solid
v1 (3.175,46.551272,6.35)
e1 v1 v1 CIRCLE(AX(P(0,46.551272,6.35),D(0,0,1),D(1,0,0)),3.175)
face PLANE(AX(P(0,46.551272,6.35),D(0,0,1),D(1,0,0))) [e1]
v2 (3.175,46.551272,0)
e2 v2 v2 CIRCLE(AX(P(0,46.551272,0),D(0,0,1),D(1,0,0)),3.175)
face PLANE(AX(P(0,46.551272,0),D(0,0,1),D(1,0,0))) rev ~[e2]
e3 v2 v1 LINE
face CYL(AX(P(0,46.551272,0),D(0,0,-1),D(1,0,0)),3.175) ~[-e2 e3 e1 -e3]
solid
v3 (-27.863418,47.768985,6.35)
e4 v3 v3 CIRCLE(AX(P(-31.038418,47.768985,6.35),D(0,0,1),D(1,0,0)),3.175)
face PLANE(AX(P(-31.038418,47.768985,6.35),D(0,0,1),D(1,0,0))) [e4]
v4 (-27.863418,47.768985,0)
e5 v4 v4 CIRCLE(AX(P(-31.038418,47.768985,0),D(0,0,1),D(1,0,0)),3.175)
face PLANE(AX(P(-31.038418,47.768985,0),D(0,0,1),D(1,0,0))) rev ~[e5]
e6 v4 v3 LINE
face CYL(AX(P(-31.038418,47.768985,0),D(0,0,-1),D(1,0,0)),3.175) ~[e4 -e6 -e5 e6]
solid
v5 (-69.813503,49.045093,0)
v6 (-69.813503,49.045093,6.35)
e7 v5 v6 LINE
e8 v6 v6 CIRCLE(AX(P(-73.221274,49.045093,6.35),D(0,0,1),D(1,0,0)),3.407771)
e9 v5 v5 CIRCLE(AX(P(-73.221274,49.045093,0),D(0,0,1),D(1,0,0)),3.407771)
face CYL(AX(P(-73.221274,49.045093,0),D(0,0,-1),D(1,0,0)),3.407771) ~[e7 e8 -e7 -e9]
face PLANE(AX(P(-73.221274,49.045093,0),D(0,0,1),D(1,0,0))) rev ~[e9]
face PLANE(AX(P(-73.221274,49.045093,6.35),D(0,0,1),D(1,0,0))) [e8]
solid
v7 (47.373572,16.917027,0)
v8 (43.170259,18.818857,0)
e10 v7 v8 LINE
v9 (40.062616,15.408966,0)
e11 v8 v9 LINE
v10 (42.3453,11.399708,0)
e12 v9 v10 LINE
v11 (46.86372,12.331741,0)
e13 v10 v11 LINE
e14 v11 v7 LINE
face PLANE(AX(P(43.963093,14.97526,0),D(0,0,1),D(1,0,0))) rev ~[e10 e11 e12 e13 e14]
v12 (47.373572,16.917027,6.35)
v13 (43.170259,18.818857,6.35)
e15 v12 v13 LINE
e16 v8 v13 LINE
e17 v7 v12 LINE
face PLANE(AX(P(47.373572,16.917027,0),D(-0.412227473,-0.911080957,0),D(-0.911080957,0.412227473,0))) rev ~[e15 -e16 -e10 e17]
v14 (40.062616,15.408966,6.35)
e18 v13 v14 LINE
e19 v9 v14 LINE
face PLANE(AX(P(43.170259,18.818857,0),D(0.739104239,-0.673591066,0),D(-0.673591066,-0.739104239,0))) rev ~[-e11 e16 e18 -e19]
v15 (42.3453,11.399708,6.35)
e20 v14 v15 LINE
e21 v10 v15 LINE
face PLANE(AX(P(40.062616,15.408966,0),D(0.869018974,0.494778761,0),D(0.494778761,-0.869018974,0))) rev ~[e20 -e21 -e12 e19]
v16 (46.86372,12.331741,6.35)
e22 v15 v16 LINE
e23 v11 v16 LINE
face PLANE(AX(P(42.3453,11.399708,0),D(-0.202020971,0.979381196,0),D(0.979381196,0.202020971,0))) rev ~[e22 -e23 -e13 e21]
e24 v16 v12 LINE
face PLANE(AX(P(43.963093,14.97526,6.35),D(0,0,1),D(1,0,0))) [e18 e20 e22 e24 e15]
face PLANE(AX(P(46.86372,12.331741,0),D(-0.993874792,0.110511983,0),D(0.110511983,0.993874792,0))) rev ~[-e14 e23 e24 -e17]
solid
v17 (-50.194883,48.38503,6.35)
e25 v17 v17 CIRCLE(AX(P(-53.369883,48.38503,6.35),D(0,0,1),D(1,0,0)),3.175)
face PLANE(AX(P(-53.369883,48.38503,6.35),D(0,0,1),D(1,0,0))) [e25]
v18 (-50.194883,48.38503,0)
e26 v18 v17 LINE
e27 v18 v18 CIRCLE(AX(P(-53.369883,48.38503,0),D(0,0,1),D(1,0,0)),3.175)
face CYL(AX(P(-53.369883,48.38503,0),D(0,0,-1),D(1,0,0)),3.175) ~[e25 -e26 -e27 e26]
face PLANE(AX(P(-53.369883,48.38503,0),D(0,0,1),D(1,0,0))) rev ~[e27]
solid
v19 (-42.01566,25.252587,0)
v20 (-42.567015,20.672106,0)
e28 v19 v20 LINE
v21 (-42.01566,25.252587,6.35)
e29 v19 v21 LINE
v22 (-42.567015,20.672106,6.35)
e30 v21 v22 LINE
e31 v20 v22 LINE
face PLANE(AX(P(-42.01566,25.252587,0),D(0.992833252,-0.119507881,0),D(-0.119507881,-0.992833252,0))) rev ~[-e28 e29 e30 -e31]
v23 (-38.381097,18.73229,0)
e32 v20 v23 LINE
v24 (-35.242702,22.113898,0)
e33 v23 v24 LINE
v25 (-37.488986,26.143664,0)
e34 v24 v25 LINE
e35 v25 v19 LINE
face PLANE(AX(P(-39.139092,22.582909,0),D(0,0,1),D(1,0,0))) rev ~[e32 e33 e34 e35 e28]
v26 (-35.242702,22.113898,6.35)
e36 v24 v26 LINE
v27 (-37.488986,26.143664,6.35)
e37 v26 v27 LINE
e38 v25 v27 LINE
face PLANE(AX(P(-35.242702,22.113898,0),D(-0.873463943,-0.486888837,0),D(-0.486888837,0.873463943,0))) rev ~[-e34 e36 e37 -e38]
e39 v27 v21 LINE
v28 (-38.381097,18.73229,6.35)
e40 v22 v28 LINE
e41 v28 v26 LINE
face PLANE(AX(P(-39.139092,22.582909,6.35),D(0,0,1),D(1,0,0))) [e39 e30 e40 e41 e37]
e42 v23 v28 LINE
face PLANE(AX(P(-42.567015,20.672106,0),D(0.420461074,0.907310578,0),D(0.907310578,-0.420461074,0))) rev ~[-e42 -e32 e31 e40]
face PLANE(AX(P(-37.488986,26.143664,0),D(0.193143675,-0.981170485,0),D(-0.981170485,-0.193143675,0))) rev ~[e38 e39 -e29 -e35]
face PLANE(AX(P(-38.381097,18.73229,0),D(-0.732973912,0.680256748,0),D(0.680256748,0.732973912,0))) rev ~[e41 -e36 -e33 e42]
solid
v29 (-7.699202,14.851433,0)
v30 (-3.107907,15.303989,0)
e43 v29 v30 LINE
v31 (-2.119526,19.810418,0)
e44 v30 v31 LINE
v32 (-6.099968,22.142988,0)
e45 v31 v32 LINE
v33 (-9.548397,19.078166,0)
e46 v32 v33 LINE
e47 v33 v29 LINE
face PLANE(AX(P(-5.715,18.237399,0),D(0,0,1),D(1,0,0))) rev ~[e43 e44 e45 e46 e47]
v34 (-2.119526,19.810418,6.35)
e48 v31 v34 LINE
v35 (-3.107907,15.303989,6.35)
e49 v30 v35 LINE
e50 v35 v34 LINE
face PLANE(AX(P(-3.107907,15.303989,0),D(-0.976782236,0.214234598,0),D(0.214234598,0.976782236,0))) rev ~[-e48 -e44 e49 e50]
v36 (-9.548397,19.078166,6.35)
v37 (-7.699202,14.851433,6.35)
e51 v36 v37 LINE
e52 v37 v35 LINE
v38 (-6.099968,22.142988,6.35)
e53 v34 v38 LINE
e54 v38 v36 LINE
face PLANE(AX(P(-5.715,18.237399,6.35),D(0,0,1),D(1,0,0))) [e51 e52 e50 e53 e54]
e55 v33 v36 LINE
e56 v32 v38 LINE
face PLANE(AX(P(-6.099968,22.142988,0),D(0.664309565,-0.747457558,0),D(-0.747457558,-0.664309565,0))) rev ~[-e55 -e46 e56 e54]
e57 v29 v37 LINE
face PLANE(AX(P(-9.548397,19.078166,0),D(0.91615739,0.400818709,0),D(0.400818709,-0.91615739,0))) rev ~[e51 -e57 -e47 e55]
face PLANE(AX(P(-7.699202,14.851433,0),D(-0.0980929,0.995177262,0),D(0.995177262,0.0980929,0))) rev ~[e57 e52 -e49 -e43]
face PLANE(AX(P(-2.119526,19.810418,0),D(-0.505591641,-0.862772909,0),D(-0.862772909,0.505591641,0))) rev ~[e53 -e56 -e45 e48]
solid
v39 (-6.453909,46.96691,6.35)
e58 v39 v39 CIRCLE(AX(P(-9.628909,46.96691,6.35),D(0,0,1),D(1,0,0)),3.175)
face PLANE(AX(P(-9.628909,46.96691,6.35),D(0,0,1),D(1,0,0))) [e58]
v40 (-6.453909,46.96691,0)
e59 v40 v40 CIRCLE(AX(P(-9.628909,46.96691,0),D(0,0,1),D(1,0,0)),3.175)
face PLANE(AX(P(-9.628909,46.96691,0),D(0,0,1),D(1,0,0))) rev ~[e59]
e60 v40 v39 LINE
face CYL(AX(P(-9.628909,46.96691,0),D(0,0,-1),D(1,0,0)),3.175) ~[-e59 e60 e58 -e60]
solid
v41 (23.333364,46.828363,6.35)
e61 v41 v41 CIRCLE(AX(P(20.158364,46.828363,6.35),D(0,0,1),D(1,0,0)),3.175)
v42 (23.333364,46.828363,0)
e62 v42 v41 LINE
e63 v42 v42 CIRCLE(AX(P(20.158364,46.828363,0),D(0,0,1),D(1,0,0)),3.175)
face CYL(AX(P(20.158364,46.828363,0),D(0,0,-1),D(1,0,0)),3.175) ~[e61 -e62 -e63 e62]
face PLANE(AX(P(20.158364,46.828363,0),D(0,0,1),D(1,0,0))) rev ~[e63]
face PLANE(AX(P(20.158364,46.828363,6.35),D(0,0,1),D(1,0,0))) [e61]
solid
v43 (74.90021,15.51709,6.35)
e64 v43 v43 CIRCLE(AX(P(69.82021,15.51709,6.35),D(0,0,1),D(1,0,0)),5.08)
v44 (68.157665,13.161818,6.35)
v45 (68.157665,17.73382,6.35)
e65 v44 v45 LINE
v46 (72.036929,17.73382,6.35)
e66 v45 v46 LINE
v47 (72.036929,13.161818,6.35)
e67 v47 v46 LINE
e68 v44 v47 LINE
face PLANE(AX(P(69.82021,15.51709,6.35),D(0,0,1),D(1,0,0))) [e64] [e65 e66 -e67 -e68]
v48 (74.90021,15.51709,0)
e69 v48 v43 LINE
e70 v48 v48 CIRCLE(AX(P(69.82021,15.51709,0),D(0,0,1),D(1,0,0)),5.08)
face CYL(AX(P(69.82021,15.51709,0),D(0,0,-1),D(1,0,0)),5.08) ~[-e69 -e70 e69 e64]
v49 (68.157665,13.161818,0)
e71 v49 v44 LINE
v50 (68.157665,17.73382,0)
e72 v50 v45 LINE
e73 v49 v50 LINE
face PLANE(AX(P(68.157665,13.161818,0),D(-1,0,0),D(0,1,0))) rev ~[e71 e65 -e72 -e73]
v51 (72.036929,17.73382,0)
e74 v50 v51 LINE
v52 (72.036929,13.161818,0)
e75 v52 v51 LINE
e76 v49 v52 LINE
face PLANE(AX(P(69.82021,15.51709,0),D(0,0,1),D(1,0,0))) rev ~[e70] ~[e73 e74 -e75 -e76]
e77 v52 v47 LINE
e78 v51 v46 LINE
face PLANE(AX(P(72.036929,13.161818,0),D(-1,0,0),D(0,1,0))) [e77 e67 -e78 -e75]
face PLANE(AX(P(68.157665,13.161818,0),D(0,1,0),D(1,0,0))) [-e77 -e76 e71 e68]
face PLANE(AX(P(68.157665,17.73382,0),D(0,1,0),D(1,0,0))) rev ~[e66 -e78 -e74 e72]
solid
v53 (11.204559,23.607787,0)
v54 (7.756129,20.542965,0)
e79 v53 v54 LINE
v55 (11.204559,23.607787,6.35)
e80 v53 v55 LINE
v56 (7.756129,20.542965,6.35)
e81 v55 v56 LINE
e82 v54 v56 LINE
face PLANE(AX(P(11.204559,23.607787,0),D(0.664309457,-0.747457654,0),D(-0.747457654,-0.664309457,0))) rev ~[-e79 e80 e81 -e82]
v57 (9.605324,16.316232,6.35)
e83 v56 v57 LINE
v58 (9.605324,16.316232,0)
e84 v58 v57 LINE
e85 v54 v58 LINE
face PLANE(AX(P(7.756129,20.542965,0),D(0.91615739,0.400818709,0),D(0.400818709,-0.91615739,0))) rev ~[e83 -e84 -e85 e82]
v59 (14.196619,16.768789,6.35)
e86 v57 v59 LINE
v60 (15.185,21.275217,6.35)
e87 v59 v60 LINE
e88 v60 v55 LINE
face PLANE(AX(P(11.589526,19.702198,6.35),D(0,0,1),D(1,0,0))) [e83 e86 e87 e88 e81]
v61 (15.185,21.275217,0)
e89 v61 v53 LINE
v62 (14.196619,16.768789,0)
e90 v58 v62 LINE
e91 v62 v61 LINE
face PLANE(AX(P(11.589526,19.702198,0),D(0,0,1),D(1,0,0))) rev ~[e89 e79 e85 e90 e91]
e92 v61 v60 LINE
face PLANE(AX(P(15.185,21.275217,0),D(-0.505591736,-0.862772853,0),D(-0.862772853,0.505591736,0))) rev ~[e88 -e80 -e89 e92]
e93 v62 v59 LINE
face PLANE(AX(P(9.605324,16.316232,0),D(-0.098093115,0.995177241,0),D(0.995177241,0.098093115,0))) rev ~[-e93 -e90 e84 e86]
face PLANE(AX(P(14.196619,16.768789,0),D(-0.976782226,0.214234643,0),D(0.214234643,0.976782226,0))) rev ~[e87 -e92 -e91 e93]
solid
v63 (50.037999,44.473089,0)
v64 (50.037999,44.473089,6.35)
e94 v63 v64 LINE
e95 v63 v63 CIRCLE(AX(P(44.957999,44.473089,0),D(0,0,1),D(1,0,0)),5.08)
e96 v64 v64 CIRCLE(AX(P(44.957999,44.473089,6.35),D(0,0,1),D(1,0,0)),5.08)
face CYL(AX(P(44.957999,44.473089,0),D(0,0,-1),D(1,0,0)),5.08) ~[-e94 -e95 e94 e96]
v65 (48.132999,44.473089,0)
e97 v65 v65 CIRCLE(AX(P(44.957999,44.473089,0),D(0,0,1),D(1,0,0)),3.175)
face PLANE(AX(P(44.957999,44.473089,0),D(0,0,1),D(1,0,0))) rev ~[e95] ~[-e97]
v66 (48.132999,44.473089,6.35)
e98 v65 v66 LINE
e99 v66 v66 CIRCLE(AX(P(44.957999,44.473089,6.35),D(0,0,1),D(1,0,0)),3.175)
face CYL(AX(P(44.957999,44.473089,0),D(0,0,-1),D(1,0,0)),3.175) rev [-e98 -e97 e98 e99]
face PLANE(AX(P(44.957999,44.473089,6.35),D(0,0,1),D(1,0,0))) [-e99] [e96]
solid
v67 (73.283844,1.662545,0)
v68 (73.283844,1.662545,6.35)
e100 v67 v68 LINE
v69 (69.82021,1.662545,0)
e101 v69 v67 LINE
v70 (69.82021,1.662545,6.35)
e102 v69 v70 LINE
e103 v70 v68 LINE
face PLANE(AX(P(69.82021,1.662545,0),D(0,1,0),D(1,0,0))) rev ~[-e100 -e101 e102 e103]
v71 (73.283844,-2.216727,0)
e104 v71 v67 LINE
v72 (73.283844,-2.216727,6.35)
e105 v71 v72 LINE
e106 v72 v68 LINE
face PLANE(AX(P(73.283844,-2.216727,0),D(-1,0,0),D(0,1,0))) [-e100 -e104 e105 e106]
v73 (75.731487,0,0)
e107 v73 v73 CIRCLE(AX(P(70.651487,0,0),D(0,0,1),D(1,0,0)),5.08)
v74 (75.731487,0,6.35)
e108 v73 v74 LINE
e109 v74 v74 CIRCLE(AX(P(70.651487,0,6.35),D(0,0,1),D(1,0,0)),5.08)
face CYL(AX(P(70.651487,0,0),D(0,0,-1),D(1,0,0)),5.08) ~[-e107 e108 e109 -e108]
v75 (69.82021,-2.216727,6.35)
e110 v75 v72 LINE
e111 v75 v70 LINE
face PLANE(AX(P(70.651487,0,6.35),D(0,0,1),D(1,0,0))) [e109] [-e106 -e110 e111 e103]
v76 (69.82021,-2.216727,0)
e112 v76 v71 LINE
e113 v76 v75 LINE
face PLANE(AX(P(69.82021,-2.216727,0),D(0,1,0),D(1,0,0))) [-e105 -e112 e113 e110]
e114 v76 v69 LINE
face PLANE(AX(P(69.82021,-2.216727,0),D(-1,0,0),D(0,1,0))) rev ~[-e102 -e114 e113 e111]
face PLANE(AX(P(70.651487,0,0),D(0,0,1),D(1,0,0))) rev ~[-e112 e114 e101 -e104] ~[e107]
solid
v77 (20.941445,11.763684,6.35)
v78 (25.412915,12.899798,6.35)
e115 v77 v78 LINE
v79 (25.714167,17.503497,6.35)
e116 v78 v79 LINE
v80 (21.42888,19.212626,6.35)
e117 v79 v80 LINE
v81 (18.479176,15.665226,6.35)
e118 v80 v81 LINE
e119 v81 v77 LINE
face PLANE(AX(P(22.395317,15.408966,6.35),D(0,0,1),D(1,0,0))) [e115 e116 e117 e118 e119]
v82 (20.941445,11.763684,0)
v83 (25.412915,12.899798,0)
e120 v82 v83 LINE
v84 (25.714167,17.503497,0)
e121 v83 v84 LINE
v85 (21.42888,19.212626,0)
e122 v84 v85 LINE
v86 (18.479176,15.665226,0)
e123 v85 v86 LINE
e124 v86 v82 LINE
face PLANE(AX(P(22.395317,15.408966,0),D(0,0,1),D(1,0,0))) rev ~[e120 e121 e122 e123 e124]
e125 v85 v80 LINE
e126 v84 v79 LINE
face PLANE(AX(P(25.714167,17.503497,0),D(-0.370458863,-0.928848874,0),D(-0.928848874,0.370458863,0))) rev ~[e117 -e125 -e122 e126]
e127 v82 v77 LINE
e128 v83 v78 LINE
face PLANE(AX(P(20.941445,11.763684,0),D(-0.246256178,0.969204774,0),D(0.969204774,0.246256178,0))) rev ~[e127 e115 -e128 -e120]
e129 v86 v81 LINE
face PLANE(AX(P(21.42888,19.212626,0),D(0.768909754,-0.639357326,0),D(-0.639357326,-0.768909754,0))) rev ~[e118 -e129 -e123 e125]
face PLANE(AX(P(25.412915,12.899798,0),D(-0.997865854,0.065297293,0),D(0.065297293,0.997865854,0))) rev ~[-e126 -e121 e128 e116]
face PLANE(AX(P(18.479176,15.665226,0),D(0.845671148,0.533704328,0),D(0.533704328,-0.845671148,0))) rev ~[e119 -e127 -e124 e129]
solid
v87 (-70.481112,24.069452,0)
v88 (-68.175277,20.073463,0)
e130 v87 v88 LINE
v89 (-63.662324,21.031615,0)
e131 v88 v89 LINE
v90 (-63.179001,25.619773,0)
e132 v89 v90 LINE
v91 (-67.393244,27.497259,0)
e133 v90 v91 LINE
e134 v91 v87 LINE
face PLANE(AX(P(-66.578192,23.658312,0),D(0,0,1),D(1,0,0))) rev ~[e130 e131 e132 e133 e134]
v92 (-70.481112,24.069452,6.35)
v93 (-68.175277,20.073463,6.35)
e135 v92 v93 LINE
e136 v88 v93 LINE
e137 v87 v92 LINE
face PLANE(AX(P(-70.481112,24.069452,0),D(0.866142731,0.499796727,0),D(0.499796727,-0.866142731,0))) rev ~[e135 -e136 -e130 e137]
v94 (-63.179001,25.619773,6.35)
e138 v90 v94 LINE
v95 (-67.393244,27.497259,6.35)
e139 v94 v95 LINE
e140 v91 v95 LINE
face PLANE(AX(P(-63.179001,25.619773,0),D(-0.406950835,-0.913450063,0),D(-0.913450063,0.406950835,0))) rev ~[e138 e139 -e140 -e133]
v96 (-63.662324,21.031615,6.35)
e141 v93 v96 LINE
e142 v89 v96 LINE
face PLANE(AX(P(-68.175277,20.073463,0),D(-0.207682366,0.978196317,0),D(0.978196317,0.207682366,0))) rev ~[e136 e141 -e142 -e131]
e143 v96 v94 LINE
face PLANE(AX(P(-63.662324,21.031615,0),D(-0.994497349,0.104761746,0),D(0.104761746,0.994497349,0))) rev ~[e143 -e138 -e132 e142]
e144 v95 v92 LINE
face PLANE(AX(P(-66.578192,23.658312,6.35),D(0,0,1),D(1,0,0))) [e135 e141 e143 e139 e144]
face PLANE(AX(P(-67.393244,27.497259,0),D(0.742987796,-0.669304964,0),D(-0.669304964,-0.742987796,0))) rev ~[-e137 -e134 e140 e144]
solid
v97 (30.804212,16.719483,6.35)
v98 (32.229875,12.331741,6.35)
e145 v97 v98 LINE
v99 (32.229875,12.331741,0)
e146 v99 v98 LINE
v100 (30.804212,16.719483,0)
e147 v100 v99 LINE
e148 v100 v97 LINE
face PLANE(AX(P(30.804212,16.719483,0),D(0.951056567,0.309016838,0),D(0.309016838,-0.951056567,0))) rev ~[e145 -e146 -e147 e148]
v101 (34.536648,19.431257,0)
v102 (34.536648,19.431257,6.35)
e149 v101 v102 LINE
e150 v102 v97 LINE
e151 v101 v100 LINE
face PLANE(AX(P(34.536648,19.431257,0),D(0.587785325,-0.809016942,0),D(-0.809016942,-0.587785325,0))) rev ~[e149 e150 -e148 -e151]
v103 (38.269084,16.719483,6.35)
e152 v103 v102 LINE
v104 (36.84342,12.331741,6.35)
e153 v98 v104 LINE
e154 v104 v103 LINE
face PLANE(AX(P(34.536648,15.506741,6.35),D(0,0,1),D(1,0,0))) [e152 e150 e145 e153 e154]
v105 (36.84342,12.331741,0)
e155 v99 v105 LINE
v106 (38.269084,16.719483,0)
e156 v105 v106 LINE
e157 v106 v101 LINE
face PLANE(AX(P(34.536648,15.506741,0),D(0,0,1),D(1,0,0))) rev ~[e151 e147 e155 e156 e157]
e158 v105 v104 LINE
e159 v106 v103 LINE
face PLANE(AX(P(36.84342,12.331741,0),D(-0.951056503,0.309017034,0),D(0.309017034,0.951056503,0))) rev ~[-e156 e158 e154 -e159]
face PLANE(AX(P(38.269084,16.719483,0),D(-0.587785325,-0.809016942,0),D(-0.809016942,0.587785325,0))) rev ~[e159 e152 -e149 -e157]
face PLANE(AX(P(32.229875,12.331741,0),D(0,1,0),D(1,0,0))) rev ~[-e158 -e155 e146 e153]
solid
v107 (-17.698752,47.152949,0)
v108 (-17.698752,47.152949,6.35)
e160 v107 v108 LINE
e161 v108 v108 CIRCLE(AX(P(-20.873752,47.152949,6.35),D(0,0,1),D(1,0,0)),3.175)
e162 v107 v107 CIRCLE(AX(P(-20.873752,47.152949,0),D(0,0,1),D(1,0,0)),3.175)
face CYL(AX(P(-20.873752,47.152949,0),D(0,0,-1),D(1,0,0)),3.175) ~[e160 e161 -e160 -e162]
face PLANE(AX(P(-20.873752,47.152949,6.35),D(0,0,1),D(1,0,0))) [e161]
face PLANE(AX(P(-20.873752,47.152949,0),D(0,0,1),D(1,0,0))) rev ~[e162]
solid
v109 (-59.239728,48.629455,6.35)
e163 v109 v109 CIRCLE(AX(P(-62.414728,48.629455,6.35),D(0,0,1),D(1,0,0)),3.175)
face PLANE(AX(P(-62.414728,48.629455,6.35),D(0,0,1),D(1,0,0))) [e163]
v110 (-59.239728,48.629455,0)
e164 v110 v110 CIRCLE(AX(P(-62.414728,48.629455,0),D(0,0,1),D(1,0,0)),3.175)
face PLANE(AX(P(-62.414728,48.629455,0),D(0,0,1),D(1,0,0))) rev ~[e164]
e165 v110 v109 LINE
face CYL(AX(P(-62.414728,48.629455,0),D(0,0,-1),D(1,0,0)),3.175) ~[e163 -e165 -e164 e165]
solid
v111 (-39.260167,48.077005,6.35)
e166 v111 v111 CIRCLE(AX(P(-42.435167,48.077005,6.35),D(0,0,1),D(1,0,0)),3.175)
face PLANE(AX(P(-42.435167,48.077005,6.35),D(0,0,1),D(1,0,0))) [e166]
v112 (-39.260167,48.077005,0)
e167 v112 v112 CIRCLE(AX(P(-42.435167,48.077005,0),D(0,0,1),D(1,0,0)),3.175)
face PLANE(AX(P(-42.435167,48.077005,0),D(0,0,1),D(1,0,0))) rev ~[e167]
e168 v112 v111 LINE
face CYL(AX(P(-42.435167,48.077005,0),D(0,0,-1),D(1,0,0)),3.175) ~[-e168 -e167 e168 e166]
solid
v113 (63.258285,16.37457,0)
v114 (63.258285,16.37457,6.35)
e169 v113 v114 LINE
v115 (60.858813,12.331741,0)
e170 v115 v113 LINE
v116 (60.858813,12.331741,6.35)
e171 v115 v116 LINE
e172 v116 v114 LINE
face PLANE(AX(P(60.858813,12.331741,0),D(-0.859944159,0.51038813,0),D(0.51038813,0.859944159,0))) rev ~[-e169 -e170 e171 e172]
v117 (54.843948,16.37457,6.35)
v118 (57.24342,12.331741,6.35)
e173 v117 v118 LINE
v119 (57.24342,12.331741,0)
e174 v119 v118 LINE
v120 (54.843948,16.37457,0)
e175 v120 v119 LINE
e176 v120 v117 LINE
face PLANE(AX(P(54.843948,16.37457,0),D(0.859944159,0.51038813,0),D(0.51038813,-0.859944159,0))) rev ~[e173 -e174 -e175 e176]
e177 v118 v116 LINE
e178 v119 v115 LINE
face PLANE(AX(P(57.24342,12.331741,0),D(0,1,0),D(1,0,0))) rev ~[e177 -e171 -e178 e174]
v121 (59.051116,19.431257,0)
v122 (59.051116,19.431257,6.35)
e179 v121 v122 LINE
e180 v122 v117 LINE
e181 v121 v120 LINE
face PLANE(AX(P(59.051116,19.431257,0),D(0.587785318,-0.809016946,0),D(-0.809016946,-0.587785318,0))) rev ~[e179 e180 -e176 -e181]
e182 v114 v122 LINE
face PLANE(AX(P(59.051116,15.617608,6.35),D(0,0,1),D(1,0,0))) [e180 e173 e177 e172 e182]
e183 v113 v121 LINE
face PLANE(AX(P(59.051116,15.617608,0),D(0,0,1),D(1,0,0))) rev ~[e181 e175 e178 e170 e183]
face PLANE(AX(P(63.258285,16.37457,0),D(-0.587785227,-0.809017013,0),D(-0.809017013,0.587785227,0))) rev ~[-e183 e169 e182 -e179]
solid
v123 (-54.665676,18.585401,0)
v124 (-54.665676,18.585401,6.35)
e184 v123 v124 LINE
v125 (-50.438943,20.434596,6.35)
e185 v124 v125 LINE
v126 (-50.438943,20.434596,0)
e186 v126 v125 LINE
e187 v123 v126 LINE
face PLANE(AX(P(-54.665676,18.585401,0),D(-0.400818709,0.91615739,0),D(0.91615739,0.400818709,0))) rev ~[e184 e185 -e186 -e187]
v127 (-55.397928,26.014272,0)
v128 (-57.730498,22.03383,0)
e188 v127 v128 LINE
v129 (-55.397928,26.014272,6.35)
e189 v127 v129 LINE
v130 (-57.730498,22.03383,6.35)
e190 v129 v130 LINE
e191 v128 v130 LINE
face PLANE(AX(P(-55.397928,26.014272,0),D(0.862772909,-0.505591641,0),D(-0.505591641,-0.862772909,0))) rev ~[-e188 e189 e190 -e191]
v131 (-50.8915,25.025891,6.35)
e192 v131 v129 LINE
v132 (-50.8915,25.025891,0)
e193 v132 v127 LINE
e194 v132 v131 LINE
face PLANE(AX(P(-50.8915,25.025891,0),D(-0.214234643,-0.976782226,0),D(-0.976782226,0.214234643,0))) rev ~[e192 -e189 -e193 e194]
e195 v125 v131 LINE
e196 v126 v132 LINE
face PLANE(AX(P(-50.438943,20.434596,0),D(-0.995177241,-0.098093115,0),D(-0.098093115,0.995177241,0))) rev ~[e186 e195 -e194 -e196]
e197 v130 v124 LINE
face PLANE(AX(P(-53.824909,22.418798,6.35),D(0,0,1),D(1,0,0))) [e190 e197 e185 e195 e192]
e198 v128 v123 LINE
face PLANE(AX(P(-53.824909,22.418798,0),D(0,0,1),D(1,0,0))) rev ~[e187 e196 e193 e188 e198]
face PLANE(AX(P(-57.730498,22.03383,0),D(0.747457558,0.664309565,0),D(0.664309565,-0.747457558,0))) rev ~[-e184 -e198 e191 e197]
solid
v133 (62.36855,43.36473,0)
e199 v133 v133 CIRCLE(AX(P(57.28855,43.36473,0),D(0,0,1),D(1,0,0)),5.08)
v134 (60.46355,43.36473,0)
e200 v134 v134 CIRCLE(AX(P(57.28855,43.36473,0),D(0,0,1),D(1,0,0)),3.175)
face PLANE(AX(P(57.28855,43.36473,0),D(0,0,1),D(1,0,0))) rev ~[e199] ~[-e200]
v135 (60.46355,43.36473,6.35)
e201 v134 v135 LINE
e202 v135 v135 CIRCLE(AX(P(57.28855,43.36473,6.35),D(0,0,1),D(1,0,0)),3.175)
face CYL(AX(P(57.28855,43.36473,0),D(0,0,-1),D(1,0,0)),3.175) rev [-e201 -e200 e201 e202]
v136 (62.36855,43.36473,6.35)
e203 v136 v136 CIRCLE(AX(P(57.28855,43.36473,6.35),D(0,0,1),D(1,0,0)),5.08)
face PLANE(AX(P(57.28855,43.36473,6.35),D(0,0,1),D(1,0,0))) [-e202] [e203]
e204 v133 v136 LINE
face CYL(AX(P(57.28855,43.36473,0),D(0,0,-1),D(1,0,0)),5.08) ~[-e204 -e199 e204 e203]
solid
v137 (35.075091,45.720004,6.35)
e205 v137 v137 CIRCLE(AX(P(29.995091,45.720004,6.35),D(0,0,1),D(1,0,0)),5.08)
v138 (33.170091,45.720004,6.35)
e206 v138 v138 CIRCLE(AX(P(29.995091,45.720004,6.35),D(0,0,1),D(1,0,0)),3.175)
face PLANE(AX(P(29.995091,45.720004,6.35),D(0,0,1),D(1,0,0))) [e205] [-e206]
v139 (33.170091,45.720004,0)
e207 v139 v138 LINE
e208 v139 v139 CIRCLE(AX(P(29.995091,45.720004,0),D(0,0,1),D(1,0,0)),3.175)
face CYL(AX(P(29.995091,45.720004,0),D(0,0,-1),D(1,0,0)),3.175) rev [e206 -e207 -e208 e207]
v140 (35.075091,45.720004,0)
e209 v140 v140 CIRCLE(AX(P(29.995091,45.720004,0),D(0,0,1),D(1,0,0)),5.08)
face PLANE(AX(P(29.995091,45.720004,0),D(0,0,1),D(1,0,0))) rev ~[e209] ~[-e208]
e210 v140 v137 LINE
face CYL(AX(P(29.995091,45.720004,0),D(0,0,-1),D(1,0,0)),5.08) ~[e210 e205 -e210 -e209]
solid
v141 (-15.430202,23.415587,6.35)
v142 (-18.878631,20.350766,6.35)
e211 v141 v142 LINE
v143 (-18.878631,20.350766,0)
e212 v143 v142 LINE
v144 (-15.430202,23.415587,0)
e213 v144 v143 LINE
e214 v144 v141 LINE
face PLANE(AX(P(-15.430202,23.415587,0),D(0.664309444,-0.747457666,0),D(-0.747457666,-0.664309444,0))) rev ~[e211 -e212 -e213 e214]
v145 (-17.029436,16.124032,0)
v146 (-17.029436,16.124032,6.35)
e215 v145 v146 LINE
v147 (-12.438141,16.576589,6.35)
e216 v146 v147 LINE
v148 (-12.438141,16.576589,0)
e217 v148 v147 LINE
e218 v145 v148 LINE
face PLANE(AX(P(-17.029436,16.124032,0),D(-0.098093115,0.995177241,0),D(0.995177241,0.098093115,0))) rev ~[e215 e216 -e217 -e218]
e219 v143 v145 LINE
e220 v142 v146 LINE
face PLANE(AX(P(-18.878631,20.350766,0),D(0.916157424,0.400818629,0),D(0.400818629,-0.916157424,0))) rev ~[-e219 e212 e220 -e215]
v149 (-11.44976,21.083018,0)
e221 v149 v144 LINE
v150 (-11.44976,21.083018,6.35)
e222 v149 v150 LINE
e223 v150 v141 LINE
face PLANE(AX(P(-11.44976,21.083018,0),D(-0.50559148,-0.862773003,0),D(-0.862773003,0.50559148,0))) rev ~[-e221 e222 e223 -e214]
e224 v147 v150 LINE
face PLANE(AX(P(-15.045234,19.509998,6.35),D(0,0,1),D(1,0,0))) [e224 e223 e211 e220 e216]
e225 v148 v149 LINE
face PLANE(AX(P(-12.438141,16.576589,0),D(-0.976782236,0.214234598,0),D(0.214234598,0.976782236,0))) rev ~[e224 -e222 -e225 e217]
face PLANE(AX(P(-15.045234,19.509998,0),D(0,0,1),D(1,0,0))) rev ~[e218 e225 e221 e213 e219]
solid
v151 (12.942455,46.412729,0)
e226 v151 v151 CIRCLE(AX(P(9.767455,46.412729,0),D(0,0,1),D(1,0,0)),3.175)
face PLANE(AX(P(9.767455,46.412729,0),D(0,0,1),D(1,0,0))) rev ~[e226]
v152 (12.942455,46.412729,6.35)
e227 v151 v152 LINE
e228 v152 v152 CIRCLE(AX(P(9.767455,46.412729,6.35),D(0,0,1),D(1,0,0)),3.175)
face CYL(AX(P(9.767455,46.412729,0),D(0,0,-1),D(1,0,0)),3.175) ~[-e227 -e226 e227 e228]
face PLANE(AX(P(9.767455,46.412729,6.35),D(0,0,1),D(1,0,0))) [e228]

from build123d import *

# Parameters (mm, degrees)
F0_R     = 3.175
F0_R_2   = 5.08
F0_R_3   = 3.407771
F0_W     = 3.879264
F0_H     = 4.572002
F0_W_2   = 3.463634
F0_H_2   = 3.879272
F1_DEPTH = 6.35


with BuildPart() as f1:
    # F0 (on Top) → F1 (new body)
    with BuildSketch(Plane.XY):
        with Locations((-53.369883, 48.38503)):
            Circle(F0_R)
        with Locations((-42.435167, 48.077005)):
            Circle(F0_R)
        with Locations((-31.038418, 47.768985)):
            Circle(F0_R)
        with Locations((-20.873752, 47.152949)):
            Circle(F0_R)
        with Locations((-62.414728, 48.629455)):
            Circle(F0_R)
        with Locations((-9.628909, 46.96691)):
            Circle(F0_R)
        with Locations((0, 46.551272)):
            Circle(F0_R)
        with Locations((9.767455, 46.412729)):
            Circle(F0_R)
        with Locations((20.158364, 46.828363)):
            Circle(F0_R)
        with Locations((29.995091, 45.720004)):
            Circle(F0_R_2)
        with Locations((29.995091, 45.720004)):
            Circle(F0_R, mode=Mode.SUBTRACT)
        with Locations((44.957999, 44.473089)):
            Circle(F0_R_2)
        with Locations((44.957999, 44.473089)):
            Circle(F0_R, mode=Mode.SUBTRACT)
        with Locations((57.28855, 43.36473)):
            Circle(F0_R_2)
        with Locations((57.28855, 43.36473)):
            Circle(F0_R, mode=Mode.SUBTRACT)
        Polygon((-68.175277, 20.073463), (-63.662324, 21.031615), (-63.179001, 25.619773), (-67.393244, 27.497259), (-70.481112, 24.069452), align=None)
        with Locations((-73.221274, 49.045093)):
            Circle(F0_R_3)
        Polygon((-54.665676, 18.585401), (-50.438943, 20.434596), (-50.8915, 25.025891), (-55.397928, 26.014272), (-57.730498, 22.03383), align=None)
        Polygon((-42.567015, 20.672106), (-38.381097, 18.73229), (-35.242702, 22.113898), (-37.488986, 26.143664), (-42.01566, 25.252587), align=None)
        Polygon((-17.029436, 16.124032), (-12.438141, 16.576589), (-11.44976, 21.083018), (-15.430202, 23.415587), (-18.878631, 20.350766), align=None)
        Polygon((-7.699202, 14.851433), (-3.107907, 15.303989), (-2.119526, 19.810418), (-6.099968, 22.142988), (-9.548397, 19.078166), align=None)
        Polygon((32.229875, 12.331741), (36.84342, 12.331741), (38.269084, 16.719483), (34.536648, 19.431257), (30.804212, 16.719483), align=None)
        Polygon((42.3453, 11.399708), (46.86372, 12.331741), (47.373572, 16.917027), (43.170259, 18.818857), (40.062616, 15.408966), align=None)
        Polygon((9.605324, 16.316232), (14.196619, 16.768789), (15.185, 21.275217), (11.204559, 23.607787), (7.756129, 20.542965), align=None)
        Polygon((20.941445, 11.763684), (25.412915, 12.899798), (25.714167, 17.503497), (21.42888, 19.212626), (18.479176, 15.665226), align=None)
        Polygon((57.24342, 12.331741), (60.858813, 12.331741), (63.258285, 16.37457), (59.051116, 19.431257), (54.843948, 16.37457), align=None)
        with Locations((69.82021, 15.51709)):
            Circle(F0_R_2)
        with Locations((70.097297, 15.447819)):
            Rectangle(F0_W, F0_H, mode=Mode.SUBTRACT)
        with Locations((70.651487, 0)):
            Circle(F0_R_2)
        with Locations((71.552027, -0.277091)):
            Rectangle(F0_W_2, F0_H_2, mode=Mode.SUBTRACT)
    extrude(amount=F1_DEPTH)


solid = f1.part
